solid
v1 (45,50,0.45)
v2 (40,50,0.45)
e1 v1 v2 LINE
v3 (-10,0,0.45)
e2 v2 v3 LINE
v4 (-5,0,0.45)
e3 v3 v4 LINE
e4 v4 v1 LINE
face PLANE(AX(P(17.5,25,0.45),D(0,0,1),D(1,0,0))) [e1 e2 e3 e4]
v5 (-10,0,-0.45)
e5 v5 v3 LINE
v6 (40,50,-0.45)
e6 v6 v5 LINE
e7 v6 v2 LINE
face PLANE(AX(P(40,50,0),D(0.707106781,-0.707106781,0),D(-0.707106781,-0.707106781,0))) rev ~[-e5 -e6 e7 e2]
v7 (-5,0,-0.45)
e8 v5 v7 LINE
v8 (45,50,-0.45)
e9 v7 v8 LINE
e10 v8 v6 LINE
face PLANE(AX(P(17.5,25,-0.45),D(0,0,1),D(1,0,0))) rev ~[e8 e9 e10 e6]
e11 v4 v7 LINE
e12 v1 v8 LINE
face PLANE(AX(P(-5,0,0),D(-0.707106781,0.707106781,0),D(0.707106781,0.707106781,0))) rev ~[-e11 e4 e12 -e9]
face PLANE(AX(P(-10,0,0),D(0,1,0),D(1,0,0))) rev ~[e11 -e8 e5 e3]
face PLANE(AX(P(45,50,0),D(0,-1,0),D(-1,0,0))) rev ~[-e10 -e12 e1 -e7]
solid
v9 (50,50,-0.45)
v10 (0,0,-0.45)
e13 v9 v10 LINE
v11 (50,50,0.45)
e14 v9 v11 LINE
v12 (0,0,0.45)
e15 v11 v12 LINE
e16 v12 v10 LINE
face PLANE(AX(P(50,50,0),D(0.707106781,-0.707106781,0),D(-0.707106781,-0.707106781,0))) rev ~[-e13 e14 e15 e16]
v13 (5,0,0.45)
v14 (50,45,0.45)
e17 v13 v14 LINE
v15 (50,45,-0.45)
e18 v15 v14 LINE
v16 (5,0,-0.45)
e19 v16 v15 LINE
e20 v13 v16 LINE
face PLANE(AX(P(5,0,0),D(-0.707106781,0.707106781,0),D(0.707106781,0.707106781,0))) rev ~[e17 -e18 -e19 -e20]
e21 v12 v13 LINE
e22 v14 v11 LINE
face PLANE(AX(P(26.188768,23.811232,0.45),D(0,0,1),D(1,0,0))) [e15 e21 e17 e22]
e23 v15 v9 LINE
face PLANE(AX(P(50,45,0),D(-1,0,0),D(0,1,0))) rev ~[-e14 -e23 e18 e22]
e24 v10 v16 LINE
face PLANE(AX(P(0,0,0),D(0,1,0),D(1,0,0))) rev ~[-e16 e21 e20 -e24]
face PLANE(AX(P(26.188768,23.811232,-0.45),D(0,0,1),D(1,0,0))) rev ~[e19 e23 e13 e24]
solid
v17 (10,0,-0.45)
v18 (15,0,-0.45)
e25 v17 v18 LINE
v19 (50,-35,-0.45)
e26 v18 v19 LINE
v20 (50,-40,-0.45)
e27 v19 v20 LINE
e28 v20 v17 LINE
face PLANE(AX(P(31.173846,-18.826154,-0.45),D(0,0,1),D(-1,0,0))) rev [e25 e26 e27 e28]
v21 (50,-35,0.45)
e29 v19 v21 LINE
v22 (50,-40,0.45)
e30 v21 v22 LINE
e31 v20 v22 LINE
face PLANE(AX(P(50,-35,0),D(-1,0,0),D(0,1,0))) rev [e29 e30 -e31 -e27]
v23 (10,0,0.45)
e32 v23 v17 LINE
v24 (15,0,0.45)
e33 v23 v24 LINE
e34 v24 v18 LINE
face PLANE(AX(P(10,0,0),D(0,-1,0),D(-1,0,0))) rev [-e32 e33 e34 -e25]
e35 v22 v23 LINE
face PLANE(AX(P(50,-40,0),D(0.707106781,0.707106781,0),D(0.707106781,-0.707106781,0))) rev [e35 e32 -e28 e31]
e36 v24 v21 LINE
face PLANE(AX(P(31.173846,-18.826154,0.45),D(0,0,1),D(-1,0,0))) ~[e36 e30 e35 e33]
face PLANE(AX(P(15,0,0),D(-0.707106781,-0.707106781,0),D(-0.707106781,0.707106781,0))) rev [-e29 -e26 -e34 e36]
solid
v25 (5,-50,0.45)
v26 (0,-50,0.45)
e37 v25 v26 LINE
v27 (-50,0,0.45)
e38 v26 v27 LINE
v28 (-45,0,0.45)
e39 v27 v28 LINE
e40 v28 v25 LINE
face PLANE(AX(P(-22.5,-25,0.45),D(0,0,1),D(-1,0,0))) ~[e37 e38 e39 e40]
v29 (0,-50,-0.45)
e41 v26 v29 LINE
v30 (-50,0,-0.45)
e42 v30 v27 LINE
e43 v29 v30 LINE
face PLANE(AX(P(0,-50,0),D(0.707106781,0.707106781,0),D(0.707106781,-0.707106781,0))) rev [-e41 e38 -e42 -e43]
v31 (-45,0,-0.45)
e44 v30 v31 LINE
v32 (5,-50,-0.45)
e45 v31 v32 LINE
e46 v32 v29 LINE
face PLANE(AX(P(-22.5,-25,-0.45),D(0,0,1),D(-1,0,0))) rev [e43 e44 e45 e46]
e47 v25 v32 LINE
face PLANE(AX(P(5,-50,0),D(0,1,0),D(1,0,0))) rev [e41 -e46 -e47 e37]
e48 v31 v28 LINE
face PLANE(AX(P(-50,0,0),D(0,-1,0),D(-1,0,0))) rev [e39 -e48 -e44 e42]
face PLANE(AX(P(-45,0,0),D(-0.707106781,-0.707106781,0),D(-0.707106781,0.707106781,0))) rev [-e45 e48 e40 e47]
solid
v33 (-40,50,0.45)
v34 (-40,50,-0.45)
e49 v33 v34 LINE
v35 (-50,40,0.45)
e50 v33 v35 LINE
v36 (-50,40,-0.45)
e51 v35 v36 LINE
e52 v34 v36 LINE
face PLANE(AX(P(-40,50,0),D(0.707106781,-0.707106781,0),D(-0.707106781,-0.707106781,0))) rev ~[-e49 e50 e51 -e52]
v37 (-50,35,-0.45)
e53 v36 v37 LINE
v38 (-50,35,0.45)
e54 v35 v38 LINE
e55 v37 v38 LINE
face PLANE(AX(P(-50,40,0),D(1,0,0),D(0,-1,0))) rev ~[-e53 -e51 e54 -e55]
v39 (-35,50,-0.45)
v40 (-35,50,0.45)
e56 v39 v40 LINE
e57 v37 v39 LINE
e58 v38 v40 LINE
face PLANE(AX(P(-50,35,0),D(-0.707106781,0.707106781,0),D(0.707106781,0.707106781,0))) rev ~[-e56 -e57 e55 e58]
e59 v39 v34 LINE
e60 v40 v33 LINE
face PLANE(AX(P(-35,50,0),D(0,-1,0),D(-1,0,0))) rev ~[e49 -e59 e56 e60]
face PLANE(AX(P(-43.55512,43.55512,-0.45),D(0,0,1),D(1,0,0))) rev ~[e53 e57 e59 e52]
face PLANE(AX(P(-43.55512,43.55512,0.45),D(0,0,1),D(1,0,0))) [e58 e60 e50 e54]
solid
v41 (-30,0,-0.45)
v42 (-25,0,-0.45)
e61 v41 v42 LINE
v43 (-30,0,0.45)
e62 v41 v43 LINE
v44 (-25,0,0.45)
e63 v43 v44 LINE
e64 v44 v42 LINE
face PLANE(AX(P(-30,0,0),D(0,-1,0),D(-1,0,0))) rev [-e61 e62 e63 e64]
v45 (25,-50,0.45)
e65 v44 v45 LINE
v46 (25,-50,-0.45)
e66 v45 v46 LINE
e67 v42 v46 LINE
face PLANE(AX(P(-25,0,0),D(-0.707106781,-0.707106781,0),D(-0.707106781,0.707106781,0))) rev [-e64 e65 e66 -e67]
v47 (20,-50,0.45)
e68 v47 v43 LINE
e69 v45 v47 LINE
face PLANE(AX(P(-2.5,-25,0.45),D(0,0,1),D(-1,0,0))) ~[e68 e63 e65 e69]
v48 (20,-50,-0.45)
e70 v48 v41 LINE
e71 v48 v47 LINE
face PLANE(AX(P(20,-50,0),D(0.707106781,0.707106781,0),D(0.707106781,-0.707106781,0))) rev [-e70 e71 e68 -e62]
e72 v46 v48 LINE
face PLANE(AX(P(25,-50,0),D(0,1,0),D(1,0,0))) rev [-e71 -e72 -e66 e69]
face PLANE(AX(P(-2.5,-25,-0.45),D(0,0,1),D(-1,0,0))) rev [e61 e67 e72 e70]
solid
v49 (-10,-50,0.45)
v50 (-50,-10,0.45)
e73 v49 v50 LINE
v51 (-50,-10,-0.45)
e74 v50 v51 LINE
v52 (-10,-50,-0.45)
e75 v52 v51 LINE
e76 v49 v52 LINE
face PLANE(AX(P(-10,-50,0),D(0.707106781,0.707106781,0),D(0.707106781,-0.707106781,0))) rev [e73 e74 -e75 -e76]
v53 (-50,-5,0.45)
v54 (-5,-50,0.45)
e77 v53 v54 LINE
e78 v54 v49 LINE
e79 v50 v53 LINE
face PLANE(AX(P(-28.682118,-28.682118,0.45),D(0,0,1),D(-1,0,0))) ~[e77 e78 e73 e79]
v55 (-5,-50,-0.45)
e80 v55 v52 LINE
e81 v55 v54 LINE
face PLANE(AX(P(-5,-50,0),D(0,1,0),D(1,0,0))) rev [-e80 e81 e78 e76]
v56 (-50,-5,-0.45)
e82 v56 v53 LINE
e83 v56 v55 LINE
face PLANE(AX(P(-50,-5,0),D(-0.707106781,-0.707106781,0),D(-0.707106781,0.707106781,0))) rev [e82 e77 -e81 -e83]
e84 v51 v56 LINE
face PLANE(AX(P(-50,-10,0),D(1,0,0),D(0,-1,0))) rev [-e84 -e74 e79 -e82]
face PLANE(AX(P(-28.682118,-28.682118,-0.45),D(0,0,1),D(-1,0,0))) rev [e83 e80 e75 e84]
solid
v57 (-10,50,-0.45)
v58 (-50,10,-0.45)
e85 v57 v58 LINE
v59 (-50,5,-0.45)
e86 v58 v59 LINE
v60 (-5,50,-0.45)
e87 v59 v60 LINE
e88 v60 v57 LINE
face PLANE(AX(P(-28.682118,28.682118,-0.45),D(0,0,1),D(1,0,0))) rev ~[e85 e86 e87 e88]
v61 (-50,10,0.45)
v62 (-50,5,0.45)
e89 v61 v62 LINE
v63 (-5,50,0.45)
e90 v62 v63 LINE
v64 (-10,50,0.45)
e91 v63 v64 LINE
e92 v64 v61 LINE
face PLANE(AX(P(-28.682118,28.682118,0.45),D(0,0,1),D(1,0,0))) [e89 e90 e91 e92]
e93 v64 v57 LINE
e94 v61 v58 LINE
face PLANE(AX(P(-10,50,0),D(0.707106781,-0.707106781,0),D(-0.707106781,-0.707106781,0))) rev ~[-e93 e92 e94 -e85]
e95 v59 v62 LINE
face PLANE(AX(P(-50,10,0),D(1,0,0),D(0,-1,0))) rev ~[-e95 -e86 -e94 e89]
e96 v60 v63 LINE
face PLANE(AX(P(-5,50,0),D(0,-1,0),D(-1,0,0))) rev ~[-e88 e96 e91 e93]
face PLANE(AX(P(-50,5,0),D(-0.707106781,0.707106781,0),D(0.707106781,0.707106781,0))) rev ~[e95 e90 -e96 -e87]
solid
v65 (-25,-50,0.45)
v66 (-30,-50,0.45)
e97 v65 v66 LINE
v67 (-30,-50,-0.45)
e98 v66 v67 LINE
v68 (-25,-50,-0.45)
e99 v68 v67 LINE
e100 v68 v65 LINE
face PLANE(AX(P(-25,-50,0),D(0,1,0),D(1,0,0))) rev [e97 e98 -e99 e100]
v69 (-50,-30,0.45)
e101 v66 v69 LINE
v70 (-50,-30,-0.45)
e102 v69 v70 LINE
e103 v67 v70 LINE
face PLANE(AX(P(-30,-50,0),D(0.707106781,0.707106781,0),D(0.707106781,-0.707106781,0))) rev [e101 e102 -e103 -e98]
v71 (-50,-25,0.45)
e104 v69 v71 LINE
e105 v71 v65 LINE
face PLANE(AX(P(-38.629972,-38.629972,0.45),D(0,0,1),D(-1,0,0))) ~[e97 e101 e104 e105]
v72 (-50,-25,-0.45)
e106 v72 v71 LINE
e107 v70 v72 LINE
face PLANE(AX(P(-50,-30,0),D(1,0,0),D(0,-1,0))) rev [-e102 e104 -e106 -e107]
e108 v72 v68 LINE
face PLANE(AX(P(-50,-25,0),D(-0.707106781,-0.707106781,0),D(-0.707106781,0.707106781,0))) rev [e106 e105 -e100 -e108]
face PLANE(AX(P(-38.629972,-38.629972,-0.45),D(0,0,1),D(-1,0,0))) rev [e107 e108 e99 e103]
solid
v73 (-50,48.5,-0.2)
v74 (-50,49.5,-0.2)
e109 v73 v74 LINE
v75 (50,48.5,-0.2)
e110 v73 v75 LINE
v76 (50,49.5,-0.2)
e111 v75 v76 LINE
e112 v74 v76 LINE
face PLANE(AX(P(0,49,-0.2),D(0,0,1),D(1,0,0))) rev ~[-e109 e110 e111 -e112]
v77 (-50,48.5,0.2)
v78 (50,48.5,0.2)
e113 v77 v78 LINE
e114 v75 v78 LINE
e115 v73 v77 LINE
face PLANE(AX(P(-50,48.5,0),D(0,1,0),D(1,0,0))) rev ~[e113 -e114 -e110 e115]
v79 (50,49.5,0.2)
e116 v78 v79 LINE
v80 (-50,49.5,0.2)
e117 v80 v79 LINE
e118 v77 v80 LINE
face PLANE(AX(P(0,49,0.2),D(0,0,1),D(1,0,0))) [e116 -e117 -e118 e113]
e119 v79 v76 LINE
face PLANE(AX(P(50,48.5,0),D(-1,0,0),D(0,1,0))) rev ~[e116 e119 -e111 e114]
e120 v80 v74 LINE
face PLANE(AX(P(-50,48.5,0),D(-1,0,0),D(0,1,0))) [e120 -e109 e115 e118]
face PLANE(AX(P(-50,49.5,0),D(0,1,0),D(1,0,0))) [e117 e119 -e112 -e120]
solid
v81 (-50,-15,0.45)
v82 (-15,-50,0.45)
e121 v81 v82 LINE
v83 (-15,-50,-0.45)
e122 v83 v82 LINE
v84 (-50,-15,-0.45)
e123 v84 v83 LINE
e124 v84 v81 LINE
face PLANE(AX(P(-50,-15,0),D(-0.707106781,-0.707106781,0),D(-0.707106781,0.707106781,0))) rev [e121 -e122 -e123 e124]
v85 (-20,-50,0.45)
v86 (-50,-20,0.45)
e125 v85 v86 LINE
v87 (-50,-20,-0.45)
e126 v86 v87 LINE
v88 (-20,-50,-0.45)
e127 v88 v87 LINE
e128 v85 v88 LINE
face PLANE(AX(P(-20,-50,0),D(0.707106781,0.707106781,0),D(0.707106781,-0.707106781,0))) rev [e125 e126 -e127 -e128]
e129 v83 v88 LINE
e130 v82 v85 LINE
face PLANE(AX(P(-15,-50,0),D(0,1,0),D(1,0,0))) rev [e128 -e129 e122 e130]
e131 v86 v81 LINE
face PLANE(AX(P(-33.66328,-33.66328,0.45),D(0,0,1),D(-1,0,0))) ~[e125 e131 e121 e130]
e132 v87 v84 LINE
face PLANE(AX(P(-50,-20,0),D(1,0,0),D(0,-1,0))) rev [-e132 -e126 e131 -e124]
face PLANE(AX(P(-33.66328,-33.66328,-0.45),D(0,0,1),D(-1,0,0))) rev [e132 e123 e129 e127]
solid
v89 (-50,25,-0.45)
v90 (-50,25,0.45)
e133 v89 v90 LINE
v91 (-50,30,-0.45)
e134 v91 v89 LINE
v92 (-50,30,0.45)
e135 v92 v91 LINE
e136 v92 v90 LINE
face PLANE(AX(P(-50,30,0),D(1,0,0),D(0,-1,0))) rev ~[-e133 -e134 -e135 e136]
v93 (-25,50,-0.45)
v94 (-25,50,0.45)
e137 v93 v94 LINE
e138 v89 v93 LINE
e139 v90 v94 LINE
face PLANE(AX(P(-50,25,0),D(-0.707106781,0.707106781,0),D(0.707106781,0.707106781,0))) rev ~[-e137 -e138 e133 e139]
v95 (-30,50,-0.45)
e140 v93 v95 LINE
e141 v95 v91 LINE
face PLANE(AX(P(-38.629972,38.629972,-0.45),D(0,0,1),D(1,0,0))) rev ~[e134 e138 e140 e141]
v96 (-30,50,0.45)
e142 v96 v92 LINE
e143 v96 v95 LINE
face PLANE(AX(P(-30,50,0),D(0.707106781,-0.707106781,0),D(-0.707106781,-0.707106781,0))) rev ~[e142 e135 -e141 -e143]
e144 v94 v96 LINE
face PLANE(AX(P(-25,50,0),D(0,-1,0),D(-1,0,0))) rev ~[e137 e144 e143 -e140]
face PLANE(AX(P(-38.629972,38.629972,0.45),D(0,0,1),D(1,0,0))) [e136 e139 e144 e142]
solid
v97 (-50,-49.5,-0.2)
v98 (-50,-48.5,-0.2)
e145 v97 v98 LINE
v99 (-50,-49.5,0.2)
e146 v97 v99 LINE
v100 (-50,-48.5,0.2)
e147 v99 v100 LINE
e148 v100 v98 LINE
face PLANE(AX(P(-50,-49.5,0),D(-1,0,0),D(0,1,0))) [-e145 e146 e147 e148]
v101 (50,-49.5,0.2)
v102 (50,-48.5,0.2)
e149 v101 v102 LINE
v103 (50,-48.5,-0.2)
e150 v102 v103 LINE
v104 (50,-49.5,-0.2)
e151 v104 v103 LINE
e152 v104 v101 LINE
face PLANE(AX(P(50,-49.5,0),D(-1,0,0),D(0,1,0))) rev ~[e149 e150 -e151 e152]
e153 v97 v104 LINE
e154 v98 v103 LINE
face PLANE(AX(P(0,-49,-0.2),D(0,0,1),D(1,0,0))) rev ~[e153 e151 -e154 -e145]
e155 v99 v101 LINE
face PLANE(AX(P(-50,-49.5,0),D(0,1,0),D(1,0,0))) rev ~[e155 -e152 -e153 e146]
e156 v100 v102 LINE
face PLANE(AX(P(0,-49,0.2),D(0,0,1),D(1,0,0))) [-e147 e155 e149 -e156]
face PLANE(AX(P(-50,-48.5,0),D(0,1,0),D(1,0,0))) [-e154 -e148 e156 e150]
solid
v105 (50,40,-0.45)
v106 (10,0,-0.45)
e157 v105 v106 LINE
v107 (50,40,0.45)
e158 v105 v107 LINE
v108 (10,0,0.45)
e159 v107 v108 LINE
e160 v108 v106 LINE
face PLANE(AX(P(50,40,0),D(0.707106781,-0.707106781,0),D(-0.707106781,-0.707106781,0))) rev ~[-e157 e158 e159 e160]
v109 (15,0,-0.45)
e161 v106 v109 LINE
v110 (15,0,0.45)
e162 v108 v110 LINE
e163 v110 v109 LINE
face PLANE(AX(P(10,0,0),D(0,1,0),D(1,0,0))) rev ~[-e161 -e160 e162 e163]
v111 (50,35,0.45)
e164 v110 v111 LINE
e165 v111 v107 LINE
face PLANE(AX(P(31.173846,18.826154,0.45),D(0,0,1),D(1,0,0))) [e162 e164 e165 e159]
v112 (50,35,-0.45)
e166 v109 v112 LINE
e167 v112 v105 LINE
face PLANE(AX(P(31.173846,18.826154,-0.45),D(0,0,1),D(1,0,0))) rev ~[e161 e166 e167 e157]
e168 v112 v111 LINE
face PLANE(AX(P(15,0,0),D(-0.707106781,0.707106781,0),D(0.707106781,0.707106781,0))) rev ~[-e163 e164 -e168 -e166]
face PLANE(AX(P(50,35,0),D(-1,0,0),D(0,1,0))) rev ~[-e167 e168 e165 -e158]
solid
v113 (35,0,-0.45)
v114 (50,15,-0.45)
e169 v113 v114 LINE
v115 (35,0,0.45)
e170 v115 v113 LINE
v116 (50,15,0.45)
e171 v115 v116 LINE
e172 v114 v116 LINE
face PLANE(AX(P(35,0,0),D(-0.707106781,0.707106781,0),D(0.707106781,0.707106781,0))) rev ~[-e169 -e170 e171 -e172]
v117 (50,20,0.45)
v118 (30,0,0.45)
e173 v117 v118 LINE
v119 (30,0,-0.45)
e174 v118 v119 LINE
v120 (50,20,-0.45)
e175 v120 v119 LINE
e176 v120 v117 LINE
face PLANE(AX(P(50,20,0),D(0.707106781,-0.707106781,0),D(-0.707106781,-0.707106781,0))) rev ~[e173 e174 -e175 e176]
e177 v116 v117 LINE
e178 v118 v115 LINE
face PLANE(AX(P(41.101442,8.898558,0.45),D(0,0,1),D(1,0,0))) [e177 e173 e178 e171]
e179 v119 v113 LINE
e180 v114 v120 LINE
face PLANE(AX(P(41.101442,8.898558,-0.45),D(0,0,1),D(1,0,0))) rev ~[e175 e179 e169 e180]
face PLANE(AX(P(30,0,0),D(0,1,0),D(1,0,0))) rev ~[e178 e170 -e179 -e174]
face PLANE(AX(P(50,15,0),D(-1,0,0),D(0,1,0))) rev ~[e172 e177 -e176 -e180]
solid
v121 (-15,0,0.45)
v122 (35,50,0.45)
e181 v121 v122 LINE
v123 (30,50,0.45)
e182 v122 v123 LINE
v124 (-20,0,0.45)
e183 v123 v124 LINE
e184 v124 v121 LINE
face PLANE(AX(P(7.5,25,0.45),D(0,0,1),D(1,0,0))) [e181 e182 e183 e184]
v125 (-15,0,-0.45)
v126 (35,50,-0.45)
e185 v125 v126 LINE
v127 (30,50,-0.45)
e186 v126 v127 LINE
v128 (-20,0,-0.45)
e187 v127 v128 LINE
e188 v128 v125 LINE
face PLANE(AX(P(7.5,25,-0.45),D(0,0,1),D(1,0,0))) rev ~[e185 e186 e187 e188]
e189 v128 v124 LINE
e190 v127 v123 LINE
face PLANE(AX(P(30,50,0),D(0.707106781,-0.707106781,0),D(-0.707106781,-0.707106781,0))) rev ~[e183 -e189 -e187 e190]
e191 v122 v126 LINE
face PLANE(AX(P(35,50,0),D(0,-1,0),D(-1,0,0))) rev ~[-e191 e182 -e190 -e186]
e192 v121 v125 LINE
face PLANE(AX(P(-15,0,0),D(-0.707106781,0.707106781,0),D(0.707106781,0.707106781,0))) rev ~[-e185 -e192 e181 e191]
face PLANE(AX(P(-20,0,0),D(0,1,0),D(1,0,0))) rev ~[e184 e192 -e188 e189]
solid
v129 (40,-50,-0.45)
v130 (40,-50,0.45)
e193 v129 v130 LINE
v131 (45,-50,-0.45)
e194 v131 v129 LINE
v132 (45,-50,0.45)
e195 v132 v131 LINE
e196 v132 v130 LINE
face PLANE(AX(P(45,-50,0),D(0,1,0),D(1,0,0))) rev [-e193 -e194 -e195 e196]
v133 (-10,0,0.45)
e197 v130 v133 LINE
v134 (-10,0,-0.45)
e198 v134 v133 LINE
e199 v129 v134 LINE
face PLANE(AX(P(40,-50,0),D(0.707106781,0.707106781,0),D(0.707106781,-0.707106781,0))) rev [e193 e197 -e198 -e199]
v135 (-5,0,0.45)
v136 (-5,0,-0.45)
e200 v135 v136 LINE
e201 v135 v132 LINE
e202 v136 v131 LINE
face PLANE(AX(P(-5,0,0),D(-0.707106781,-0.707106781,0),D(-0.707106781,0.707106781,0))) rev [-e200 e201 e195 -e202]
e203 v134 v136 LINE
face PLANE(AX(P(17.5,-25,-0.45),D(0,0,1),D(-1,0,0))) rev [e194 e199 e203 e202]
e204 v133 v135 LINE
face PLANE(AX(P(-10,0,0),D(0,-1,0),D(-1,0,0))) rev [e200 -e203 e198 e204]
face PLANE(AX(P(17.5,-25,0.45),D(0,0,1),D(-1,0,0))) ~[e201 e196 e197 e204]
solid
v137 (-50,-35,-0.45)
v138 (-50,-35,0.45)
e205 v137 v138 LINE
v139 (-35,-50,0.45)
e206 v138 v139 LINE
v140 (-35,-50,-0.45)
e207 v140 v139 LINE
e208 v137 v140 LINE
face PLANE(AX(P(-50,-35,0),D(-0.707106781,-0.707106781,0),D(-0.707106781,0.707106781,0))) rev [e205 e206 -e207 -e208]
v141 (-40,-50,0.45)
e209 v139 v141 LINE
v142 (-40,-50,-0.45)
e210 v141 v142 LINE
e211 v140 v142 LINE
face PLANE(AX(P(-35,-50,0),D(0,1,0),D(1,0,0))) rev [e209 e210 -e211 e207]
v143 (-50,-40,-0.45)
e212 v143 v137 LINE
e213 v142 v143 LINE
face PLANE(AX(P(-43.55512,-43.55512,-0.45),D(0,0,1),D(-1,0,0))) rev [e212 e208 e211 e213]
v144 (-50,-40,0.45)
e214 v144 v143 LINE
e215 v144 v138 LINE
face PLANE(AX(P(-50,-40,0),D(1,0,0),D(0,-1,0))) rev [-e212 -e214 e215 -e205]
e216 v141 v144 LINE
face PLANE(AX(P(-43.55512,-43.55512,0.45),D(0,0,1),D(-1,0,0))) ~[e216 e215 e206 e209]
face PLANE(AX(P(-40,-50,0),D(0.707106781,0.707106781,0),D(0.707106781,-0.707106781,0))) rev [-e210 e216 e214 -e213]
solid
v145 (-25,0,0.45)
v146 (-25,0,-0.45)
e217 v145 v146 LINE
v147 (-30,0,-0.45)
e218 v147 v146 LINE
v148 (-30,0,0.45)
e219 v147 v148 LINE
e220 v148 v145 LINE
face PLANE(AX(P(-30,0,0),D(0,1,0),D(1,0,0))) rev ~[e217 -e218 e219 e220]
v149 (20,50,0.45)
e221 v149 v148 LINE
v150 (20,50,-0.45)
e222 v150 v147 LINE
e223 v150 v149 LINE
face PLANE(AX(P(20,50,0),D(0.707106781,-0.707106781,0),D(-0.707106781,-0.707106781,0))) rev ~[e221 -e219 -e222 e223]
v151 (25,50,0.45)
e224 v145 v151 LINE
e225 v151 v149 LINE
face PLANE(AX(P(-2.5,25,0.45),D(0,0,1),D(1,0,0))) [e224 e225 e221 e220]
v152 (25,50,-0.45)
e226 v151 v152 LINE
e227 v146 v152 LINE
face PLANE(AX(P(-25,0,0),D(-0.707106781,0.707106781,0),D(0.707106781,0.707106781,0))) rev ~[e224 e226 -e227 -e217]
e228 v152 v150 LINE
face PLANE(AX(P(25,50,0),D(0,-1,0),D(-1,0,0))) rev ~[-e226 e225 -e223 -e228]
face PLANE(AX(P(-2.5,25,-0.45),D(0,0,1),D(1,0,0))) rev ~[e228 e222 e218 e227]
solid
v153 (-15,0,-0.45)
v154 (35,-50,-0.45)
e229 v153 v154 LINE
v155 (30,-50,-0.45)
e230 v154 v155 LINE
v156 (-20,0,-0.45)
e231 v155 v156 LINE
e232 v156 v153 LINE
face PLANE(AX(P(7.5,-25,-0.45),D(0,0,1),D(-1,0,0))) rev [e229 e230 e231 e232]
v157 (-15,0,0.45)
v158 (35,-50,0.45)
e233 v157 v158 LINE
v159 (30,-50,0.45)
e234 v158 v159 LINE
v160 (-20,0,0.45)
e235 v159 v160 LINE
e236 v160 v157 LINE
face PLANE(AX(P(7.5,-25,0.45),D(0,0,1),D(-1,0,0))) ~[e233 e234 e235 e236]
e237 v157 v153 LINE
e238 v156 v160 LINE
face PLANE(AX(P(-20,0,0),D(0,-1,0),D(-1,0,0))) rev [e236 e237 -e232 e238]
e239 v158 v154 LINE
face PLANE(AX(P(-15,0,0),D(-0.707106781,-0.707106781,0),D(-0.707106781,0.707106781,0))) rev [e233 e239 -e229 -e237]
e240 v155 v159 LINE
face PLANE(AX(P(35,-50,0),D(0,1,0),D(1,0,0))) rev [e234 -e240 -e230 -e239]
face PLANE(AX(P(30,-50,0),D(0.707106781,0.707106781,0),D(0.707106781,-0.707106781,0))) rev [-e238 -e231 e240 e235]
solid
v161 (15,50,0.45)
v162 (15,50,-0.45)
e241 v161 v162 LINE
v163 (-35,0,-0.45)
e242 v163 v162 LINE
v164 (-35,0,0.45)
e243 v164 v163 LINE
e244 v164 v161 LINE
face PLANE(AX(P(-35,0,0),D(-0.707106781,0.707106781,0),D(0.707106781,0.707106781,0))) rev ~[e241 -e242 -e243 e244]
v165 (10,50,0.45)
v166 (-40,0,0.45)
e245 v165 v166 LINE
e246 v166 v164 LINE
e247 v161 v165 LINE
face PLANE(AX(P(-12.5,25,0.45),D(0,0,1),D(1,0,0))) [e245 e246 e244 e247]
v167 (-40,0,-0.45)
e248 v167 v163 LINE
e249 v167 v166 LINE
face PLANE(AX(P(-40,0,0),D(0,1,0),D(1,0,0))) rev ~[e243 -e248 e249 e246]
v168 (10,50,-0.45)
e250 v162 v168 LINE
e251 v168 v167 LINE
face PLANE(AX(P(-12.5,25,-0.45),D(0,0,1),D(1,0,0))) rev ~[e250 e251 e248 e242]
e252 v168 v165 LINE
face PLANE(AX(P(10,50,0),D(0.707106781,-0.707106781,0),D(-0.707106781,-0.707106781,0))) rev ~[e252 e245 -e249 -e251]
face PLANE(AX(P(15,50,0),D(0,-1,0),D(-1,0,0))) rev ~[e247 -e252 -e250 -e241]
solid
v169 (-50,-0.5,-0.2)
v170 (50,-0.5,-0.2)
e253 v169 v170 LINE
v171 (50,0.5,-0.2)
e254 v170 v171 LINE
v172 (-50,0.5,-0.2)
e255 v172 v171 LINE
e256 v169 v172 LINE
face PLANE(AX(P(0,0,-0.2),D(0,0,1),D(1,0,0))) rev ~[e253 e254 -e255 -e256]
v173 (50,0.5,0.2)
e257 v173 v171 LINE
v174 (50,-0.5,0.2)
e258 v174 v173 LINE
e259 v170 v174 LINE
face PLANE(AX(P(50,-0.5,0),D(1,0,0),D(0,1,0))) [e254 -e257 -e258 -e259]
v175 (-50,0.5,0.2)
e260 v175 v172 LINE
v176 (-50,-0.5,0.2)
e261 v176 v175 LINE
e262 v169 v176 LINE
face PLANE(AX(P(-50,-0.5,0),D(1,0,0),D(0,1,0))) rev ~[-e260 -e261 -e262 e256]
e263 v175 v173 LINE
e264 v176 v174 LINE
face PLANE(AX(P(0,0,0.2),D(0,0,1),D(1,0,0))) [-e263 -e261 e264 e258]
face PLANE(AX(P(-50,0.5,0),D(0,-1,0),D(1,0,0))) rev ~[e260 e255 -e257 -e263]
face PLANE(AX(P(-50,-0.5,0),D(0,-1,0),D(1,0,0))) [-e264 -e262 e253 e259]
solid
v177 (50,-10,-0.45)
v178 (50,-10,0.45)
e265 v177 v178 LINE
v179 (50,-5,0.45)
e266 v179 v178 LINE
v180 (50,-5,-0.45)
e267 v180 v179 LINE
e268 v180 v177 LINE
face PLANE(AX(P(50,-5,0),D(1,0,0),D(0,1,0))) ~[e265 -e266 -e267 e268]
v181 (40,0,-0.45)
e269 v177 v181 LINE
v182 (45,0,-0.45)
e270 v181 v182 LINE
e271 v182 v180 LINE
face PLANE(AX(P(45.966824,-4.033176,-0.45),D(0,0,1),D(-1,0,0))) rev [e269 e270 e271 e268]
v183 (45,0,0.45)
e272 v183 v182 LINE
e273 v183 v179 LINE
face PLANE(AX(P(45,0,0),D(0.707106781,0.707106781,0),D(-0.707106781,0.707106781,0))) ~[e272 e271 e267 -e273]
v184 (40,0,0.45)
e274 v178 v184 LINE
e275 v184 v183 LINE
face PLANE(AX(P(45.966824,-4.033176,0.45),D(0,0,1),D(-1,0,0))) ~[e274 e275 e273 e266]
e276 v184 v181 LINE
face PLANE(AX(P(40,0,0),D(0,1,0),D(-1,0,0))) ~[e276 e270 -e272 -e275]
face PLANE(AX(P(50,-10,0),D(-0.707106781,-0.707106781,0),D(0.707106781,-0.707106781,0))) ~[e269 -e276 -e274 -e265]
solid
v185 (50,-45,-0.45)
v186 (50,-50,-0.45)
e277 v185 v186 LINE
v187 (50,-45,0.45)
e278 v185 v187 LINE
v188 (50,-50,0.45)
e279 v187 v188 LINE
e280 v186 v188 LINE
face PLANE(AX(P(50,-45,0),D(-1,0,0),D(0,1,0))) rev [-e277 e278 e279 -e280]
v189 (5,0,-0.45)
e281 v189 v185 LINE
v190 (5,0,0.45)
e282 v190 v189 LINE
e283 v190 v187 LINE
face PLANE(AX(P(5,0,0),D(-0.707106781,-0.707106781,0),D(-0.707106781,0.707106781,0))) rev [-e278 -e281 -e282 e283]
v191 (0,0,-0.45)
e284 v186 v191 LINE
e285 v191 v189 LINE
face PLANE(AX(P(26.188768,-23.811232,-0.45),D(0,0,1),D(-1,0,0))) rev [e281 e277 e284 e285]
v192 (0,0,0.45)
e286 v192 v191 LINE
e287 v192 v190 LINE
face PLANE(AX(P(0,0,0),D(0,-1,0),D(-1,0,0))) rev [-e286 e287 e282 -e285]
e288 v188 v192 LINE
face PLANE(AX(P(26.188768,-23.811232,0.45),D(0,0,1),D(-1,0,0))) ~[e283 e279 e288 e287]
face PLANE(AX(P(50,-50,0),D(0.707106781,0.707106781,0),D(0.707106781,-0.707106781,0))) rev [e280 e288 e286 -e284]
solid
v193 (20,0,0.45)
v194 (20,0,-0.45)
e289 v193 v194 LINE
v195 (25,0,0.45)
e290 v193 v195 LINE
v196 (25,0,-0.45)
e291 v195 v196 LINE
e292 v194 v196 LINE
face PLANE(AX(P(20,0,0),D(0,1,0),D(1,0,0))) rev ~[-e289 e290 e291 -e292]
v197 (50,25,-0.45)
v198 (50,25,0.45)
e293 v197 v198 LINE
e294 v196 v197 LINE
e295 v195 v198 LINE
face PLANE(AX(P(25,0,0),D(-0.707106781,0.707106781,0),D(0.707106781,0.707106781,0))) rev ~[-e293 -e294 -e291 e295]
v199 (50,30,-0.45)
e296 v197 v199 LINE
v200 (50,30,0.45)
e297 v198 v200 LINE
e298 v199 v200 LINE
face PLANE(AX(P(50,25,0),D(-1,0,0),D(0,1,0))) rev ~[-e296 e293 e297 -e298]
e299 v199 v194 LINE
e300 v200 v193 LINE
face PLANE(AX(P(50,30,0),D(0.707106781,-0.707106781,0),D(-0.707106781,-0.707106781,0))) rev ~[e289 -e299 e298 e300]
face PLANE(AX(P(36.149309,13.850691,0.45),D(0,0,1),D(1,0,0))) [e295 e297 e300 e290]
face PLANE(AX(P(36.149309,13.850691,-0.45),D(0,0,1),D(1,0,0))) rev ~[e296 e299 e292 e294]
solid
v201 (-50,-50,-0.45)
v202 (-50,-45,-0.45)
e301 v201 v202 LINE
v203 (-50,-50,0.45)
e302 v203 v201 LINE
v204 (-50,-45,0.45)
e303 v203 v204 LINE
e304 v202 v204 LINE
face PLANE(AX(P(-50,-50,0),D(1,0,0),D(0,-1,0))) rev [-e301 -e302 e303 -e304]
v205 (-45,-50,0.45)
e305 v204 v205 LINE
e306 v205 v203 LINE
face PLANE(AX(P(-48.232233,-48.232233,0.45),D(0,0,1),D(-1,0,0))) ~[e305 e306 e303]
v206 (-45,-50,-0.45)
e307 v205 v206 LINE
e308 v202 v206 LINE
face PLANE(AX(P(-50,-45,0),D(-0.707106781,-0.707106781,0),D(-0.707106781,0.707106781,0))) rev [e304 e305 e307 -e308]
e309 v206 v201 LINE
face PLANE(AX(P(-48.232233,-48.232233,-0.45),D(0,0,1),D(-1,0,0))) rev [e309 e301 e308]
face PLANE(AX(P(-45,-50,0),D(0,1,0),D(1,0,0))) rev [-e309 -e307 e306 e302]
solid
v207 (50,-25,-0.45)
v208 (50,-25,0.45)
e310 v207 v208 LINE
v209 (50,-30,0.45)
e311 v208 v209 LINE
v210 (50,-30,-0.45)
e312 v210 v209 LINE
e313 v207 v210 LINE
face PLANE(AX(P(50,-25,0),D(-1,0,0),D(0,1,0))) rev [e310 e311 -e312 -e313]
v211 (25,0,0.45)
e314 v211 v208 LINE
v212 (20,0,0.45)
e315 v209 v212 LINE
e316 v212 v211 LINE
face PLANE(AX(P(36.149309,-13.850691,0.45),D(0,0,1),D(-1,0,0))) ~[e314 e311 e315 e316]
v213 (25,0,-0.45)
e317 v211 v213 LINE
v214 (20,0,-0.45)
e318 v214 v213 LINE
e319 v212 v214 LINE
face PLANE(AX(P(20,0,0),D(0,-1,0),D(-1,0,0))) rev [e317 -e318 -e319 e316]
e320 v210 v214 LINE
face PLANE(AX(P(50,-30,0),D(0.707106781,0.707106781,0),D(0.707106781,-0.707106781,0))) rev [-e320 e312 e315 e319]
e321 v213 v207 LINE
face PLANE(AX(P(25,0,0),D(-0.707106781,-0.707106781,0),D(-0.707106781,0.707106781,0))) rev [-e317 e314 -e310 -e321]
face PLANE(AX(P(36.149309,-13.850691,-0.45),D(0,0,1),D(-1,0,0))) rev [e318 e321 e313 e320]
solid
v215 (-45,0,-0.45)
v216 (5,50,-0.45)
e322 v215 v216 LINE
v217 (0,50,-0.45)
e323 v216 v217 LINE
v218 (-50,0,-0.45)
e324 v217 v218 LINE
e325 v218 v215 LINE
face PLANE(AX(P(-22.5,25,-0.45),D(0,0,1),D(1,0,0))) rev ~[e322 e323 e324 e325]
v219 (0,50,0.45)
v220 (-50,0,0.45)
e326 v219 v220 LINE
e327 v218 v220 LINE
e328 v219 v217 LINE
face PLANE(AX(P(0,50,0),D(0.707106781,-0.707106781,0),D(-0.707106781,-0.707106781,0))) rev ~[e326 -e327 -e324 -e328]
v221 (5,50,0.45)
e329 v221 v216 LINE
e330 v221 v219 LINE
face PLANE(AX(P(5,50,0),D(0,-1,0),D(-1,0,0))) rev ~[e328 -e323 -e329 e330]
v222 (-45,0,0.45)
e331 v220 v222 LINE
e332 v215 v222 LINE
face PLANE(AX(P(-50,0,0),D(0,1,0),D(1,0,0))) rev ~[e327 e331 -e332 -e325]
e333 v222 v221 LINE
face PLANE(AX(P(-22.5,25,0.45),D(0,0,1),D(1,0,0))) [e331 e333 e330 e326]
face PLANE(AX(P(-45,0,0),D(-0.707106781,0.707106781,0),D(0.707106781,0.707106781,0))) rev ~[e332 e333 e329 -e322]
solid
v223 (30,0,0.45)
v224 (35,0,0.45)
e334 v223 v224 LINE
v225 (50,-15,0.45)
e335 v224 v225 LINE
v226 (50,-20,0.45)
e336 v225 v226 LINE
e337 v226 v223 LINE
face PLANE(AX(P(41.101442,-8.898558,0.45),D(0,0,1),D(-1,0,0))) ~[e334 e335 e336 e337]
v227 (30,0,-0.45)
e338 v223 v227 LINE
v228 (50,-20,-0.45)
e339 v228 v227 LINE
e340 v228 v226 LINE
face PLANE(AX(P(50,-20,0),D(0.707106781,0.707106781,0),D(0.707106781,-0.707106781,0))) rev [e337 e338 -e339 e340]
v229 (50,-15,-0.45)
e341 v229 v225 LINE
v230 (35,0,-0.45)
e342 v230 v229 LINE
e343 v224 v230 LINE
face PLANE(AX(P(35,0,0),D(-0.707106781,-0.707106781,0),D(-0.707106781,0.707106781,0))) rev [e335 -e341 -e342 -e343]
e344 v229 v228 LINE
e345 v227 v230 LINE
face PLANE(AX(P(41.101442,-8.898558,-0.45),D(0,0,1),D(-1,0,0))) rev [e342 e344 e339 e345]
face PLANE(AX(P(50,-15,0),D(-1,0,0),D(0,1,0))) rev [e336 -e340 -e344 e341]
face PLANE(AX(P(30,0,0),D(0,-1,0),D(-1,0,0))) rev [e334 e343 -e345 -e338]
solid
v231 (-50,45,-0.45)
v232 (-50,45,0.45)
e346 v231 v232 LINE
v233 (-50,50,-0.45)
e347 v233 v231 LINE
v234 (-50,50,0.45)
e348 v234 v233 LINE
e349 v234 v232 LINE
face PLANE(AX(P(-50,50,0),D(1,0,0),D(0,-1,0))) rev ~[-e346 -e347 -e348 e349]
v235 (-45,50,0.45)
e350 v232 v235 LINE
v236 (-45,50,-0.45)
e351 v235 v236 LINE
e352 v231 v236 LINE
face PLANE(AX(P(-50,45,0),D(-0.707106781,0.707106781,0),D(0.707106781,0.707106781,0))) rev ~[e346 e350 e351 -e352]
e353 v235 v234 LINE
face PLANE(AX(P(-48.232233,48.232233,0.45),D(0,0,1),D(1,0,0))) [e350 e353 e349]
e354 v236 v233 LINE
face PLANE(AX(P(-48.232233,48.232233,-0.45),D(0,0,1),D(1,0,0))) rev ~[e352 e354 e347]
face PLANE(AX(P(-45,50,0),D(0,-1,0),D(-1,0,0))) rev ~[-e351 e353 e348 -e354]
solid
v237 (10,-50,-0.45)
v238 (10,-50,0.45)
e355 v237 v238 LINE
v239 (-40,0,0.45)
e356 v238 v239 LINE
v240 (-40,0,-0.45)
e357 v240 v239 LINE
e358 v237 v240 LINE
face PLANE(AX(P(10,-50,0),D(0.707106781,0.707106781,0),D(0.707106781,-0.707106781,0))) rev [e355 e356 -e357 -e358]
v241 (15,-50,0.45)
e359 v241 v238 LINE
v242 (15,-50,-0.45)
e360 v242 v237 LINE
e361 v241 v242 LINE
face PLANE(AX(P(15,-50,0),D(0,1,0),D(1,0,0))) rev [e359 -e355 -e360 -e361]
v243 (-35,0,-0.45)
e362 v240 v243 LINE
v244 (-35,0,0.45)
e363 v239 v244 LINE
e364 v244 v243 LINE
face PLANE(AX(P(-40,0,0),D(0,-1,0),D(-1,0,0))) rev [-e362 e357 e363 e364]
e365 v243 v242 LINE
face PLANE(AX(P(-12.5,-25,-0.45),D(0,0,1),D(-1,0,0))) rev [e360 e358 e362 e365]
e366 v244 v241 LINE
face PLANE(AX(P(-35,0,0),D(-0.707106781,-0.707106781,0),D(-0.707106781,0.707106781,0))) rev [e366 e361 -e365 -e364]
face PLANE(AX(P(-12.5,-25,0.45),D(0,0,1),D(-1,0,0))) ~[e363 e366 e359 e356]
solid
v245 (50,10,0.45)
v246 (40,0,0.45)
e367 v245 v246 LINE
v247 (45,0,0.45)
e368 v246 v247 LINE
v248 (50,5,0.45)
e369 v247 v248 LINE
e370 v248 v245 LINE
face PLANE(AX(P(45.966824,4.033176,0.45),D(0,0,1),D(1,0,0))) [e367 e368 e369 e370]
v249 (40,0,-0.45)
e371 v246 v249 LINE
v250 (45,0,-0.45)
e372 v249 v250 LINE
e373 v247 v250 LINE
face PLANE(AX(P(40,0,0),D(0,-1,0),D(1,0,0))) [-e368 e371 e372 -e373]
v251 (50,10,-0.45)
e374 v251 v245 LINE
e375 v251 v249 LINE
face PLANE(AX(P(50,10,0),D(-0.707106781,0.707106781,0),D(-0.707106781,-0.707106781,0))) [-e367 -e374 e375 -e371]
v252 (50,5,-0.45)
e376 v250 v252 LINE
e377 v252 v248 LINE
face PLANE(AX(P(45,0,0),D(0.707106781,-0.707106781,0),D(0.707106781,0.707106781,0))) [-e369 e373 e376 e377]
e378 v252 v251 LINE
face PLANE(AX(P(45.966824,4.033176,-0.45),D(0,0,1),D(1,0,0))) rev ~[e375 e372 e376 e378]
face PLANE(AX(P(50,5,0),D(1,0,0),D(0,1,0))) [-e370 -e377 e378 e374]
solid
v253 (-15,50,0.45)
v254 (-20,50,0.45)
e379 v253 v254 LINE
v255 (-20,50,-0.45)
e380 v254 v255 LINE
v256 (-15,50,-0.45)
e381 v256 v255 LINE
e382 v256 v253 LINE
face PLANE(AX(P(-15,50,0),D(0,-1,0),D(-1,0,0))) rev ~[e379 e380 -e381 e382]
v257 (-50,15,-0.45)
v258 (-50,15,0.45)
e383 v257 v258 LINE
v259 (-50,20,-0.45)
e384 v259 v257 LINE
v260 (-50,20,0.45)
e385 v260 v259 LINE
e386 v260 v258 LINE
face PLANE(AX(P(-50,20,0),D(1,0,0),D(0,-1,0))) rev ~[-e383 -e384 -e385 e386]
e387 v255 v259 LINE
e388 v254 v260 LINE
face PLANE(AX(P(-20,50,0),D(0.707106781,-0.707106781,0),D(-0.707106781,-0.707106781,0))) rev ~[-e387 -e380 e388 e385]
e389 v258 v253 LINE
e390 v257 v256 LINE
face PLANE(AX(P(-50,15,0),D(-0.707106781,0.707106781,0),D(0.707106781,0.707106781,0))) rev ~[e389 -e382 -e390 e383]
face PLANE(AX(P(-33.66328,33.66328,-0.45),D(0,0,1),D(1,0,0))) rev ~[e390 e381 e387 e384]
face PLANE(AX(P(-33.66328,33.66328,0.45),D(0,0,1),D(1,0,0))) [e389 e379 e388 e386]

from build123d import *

# Parameters (mm, degrees)
F1_DEPTH = 0.45
F3_W     = 100
F3_H     = 1
F4_DEPTH = 0.2


with BuildPart() as f1:
    # F0 (on Top) → F1 (new body, symmetric)
    with BuildSketch(Plane.XY):
        Polygon((-50, 20), (-50, 15), (-15, 50), (-20, 50), align=None)
        Polygon((-50, 10), (-50, 5), (-5, 50), (-10, 50), align=None)
        Polygon((0, 50), (-50, 0), (-45, 0), (5, 50), align=None)
        Polygon((15, 50), (10, 50), (-40, 0), (-35, 0), align=None)
        Polygon((25, 50), (20, 50), (-30, 0), (-25, 0), align=None)
        Polygon((35, 50), (30, 50), (-20, 0), (-15, 0), align=None)
        Polygon((45, 50), (40, 50), (-10, 0), (-5, 0), align=None)
        Polygon((5, 0), (50, 45), (50, 50), (0, 0), align=None)
        Polygon((15, 0), (50, 35), (50, 40), (10, 0), align=None)
        Polygon((25, 0), (50, 25), (50, 30), (20, 0), align=None)
        Polygon((-50, 30), (-50, 25), (-25, 50), (-30, 50), align=None)
        Polygon((-50, 40), (-50, 35), (-35, 50), (-40, 50), align=None)
        Polygon((-50, 50), (-50, 45), (-45, 50), align=None)
        Polygon((35, 0), (50, 15), (50, 20), (30, 0), align=None)
        Polygon((45, 0), (50, 5), (50, 10), (40, 0), align=None)
    extrude(amount=F1_DEPTH, both=True)


with BuildPart() as f2_1:
    # F2: instance of F1
    add(f1.part.mirror(Plane.XZ))


with BuildPart() as f4:
    # F3 (on Top) → F4 (new body, symmetric)
    with BuildSketch(Plane.XY):
        with Locations((0, 49)):
            Rectangle(F3_W, F3_H)
        with Locations((0, -49)):
            Rectangle(F3_W, F3_H)
        Rectangle(F3_W, F3_H)
    extrude(amount=F4_DEPTH, both=True)


solid = Compound([f1.part, f2_1.part, f4.part])
